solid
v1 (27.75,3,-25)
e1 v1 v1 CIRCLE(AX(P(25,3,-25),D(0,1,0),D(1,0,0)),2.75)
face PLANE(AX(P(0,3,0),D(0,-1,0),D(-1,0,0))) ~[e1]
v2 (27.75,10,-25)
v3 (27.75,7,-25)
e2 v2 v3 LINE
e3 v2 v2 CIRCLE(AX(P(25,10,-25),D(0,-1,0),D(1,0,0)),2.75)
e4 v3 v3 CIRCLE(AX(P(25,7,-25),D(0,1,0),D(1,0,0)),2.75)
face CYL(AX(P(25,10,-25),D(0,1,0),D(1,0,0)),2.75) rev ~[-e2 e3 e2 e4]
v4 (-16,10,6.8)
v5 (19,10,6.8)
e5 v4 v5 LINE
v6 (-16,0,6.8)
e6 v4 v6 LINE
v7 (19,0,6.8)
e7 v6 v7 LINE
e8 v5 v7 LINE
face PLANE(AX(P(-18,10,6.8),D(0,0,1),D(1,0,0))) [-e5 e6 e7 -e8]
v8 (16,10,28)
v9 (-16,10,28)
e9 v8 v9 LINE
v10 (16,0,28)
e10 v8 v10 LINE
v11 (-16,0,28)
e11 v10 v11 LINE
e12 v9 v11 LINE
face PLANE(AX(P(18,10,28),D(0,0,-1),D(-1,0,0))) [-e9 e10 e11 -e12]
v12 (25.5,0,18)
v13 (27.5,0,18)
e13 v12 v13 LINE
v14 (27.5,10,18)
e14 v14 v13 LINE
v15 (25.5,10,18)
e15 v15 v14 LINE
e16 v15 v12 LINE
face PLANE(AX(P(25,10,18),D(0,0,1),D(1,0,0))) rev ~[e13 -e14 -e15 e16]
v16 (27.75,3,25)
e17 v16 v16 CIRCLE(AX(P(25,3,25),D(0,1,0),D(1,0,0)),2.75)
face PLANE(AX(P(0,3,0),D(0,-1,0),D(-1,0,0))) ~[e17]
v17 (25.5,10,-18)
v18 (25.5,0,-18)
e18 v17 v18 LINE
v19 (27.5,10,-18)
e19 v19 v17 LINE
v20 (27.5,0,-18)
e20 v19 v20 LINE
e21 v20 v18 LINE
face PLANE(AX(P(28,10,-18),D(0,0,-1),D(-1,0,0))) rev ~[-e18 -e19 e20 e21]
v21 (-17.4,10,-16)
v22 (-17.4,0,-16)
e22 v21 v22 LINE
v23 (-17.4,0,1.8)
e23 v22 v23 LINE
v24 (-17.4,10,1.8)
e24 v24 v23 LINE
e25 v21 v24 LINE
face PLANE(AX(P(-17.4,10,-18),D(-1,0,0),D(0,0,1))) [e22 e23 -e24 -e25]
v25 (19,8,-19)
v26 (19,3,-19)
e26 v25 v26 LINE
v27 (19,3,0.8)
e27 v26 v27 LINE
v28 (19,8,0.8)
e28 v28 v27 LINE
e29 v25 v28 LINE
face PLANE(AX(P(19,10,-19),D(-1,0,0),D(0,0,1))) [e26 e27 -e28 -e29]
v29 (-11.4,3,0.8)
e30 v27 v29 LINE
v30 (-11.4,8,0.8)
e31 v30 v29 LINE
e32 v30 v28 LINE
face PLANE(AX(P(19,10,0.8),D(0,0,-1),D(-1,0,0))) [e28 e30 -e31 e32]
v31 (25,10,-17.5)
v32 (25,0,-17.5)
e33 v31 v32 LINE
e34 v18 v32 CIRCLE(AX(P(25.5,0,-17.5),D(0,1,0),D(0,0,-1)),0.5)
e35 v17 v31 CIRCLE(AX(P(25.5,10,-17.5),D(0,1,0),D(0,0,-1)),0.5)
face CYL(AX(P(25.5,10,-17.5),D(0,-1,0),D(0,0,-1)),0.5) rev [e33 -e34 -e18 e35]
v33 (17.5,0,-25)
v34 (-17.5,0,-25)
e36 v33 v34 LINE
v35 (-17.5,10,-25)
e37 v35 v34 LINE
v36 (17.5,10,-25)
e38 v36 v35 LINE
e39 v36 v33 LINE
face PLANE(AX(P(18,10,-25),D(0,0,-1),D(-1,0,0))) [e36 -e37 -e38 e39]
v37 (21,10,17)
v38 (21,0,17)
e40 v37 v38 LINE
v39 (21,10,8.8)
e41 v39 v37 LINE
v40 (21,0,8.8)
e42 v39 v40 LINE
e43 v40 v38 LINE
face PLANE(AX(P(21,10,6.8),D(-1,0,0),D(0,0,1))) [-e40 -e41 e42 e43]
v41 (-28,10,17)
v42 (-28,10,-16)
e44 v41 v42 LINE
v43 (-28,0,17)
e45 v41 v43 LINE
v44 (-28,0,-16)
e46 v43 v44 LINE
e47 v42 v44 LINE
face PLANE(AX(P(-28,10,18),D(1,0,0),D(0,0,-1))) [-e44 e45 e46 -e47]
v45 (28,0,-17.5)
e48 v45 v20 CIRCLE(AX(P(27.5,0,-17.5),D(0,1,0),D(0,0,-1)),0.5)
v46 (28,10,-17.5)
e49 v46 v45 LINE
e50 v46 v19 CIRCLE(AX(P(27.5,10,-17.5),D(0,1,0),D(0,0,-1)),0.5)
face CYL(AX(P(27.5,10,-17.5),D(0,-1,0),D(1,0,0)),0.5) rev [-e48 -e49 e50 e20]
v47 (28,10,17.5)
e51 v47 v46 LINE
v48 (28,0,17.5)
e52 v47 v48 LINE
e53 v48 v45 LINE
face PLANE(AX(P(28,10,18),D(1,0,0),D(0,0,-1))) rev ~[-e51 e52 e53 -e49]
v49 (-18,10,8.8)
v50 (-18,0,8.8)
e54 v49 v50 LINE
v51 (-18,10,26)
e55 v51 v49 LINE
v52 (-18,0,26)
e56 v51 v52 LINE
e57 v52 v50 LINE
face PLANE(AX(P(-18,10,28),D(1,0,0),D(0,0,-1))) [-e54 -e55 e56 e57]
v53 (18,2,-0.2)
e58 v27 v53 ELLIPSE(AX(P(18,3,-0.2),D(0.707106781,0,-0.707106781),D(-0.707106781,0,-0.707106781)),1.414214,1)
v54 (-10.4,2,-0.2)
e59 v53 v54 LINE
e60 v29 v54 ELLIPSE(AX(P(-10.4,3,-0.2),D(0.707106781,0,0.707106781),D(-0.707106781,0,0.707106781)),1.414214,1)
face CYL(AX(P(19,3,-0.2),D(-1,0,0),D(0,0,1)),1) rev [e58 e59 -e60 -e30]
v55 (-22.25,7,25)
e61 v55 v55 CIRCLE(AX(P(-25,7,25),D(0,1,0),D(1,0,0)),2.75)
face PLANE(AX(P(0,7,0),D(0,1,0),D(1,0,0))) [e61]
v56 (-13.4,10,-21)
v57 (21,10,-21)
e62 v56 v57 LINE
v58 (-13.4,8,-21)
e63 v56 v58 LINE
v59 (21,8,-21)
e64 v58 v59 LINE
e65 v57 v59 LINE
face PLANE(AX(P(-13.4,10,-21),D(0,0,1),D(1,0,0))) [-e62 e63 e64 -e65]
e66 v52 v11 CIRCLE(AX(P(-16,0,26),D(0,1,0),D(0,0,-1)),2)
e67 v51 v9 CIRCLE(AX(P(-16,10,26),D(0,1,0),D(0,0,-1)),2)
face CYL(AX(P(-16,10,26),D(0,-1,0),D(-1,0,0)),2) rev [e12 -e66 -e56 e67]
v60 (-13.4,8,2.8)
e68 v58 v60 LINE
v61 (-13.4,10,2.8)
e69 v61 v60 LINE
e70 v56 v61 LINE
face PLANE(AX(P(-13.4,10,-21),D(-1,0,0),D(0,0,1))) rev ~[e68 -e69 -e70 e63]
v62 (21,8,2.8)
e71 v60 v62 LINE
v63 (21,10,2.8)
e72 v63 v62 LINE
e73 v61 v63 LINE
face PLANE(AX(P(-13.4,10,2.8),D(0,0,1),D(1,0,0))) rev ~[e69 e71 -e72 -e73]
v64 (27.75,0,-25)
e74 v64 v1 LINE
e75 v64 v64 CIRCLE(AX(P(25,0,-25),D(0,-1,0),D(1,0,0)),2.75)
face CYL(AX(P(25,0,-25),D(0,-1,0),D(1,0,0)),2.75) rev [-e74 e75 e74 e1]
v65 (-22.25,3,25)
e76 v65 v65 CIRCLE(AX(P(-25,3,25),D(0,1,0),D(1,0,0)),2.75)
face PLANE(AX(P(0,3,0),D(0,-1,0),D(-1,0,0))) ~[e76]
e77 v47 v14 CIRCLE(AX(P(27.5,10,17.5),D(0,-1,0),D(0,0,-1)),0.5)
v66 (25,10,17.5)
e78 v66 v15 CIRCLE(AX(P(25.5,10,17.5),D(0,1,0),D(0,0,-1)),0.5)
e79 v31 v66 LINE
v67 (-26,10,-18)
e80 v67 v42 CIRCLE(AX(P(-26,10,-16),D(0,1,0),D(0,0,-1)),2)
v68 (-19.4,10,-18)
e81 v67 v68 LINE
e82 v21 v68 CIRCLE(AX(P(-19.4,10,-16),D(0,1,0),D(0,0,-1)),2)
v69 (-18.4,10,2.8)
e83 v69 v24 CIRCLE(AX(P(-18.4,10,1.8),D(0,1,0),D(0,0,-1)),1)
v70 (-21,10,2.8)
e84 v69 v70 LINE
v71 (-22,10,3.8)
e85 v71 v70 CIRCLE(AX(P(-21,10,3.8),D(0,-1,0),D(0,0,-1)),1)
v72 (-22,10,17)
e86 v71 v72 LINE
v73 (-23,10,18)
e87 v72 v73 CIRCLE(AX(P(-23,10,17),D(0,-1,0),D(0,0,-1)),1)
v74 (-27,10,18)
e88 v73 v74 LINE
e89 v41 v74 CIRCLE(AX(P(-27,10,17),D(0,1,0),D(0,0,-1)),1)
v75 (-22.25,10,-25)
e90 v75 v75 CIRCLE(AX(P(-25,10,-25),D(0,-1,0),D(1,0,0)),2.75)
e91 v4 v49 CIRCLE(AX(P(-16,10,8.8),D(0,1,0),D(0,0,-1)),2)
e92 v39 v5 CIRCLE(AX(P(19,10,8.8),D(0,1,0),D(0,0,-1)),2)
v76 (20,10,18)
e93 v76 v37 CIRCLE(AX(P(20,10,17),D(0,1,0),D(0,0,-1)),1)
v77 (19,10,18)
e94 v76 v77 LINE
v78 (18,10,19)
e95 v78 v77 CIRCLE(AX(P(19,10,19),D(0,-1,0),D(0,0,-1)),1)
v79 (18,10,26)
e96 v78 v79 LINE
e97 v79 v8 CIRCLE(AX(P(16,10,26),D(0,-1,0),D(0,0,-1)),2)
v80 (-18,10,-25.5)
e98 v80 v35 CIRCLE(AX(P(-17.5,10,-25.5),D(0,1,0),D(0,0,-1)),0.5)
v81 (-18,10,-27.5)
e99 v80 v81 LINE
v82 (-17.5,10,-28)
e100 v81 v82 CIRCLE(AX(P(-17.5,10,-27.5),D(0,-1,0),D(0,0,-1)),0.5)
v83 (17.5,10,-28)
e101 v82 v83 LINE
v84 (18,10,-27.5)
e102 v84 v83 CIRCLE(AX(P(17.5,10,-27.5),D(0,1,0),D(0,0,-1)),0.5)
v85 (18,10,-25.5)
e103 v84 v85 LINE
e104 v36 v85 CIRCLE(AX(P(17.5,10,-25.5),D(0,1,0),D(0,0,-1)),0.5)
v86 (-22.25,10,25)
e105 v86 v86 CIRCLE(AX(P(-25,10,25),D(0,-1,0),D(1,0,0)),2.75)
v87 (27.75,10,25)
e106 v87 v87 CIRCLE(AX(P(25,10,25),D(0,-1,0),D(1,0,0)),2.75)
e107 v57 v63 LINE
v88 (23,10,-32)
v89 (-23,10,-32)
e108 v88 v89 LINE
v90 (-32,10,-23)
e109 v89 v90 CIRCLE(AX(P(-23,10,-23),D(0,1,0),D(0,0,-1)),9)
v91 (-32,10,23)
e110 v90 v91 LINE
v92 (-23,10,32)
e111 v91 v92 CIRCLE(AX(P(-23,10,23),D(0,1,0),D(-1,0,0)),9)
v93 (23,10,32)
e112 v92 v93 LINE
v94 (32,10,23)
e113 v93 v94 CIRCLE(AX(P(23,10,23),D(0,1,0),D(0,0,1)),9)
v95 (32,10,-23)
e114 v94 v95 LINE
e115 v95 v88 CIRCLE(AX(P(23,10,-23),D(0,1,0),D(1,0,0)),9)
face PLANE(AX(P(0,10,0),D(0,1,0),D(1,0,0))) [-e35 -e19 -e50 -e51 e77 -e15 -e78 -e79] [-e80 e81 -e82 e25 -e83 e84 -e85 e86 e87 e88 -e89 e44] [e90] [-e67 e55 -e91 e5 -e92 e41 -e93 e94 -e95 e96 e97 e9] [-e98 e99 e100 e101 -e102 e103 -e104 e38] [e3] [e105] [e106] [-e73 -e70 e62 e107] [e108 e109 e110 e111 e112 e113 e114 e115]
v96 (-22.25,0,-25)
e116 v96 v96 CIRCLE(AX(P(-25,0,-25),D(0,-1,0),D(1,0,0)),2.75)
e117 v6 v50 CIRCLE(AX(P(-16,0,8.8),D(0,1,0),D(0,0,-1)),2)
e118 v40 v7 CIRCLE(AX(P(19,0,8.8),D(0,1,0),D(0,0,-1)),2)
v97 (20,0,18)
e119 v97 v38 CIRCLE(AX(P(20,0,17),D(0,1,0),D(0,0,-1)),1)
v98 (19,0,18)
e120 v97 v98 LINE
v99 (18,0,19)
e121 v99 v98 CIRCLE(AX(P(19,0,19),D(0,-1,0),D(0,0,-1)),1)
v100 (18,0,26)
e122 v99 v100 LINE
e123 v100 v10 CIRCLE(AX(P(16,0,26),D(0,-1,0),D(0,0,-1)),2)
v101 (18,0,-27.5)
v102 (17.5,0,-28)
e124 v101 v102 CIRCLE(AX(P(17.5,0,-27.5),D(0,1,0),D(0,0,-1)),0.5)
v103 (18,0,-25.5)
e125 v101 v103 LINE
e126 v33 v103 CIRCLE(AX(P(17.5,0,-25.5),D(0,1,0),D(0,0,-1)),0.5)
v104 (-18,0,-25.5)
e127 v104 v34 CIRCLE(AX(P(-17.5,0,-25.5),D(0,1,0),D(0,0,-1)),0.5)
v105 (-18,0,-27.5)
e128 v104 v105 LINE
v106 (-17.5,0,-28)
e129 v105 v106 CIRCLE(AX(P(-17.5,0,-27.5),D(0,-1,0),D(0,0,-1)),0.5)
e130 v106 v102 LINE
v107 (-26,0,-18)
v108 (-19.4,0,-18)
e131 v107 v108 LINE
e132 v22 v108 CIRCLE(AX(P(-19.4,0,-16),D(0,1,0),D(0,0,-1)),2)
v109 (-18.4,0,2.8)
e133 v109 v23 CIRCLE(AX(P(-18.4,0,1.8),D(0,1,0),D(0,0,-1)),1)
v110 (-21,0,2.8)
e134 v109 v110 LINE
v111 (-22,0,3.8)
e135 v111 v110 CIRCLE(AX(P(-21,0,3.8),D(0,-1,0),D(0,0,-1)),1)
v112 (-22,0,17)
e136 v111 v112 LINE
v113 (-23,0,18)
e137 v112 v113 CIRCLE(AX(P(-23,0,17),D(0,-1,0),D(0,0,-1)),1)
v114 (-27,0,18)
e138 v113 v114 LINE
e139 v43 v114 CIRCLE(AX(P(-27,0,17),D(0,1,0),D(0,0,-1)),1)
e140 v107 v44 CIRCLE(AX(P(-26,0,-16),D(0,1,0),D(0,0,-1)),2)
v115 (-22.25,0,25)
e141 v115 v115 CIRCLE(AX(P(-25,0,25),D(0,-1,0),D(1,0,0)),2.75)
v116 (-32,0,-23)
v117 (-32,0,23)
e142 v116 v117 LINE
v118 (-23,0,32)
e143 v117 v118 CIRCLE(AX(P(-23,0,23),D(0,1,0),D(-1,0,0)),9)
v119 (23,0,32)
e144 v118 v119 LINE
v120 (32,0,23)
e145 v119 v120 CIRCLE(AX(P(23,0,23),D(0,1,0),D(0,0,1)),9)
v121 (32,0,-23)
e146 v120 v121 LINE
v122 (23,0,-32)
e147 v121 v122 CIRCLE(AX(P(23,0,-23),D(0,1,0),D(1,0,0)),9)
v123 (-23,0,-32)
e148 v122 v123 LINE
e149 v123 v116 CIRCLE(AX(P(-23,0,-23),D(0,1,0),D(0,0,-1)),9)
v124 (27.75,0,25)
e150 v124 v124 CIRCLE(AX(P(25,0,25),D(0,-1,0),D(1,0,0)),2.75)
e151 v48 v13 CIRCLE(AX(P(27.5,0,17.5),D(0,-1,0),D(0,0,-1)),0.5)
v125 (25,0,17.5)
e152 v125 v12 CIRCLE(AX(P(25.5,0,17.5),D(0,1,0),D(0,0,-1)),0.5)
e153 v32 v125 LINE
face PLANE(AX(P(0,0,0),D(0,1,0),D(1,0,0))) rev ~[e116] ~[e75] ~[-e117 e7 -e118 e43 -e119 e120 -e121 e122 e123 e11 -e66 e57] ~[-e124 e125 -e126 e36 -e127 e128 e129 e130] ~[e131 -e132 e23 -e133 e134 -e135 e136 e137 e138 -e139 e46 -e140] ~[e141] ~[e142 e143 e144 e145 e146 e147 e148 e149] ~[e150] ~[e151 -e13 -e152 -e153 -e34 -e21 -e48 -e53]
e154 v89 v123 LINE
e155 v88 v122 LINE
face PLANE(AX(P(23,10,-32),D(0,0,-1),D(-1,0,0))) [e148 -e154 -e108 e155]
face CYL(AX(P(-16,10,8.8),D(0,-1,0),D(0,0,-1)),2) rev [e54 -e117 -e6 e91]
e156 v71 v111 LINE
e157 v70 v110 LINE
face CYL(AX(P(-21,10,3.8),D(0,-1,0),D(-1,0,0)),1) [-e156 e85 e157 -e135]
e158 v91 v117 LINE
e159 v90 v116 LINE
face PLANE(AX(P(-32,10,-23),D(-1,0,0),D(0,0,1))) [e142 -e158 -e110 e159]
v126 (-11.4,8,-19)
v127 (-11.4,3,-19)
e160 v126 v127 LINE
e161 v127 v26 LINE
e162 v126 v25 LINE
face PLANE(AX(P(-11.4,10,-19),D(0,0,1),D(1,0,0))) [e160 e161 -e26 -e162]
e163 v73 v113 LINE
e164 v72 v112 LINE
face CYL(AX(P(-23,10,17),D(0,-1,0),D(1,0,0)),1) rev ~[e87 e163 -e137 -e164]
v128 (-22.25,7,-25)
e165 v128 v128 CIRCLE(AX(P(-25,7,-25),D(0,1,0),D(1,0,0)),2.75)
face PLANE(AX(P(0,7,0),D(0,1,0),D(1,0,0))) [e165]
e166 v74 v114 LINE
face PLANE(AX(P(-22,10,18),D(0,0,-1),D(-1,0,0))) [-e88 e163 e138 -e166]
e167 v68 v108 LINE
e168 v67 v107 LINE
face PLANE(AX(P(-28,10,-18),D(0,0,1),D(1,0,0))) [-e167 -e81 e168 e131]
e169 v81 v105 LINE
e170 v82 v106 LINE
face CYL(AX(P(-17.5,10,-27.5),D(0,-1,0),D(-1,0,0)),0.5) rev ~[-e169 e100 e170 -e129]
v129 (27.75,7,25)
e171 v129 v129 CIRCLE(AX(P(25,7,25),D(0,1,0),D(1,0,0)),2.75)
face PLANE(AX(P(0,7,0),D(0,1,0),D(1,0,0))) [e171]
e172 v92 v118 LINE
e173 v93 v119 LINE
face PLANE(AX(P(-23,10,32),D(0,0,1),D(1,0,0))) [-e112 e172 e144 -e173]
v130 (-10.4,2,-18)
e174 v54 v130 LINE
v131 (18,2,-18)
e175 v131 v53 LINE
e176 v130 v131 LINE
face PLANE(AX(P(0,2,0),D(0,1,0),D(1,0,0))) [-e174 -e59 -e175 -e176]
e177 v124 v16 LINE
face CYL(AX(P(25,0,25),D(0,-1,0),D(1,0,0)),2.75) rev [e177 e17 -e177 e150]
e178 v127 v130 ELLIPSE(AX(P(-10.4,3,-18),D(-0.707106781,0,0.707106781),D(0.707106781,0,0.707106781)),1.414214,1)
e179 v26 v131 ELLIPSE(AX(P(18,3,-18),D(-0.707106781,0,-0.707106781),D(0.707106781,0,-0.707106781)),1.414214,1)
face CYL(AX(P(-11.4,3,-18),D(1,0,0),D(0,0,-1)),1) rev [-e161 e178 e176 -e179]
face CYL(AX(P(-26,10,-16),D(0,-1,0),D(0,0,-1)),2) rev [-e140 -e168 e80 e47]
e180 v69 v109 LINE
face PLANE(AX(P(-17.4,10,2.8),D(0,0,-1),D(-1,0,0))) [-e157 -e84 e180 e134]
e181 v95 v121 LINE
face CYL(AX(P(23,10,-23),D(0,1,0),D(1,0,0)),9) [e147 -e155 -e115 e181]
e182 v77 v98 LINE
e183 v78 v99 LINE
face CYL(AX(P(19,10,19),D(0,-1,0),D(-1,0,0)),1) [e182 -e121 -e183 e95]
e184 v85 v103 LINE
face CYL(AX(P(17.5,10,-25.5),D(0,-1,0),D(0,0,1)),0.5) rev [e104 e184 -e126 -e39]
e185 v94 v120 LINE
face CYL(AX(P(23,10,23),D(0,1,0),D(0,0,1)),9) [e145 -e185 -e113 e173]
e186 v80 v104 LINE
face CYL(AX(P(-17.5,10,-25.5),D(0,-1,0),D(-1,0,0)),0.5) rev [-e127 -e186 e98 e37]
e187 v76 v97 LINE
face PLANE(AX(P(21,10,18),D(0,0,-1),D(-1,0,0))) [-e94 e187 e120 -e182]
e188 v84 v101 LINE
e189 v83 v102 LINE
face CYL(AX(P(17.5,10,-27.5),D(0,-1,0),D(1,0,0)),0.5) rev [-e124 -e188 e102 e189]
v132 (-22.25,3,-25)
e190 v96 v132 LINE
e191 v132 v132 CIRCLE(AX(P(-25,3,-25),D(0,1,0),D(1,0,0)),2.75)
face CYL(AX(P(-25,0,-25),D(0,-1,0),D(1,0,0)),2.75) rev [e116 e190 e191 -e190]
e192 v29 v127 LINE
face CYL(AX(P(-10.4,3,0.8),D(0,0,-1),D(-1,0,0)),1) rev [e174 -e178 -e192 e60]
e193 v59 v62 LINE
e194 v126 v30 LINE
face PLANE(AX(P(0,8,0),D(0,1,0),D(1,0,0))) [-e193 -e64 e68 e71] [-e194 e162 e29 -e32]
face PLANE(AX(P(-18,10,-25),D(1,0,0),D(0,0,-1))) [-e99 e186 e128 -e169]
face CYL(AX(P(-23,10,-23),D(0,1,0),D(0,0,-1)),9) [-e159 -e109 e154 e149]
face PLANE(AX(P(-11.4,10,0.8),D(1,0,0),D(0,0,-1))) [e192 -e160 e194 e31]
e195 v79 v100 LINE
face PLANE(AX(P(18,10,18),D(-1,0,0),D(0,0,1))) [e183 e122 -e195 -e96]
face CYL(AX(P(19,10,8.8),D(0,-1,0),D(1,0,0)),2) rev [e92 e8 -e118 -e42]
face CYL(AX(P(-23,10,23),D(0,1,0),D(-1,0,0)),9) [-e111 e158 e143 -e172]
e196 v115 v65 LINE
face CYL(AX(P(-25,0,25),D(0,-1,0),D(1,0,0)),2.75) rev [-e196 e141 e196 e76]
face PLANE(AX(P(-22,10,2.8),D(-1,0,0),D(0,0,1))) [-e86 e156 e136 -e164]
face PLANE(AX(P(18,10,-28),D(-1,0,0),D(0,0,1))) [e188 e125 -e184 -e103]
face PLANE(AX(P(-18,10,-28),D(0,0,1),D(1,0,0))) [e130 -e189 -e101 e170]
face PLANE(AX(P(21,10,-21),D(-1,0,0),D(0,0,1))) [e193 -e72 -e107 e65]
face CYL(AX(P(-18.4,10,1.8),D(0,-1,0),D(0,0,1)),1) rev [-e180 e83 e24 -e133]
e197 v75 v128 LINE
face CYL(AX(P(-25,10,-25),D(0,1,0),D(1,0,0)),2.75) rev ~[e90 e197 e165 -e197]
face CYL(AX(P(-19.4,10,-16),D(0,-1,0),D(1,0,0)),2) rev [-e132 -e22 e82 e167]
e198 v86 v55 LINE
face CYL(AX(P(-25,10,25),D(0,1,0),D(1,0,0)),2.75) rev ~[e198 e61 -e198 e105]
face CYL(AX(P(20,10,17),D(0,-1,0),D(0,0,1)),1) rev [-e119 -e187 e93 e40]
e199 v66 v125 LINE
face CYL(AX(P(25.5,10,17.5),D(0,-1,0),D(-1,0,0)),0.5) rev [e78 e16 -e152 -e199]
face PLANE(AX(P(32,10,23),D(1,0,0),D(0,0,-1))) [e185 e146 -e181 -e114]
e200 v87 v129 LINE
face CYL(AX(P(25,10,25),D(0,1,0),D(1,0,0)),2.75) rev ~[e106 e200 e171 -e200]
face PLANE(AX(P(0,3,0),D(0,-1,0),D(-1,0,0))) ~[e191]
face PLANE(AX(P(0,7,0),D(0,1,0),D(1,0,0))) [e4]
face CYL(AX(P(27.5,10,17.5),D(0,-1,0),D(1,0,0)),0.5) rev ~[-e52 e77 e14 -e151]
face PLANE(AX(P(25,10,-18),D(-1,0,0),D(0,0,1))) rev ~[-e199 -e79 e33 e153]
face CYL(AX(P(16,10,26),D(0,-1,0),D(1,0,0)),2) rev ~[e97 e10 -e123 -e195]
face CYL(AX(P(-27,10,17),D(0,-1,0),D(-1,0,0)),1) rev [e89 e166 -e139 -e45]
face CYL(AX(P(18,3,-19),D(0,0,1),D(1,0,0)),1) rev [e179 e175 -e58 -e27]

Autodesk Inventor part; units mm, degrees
ref_plane "YZ Plane" through (0, 0, 0) normal (1, 0, 0) x (0, 1, 0)
ref_plane "XZ Plane" through (0, 0, 0) normal (0, 1, 0) x (-1, 0, 0)
sketch "Sketch1" plane through (0, 0, 0) normal (0, 1, 0) x (-1, 0, 0)
  line L0 (30, 30) -> (-30, 30)
  line L1 (-30, 30) -> (-30, -30)
  line L2 (-30, -30) -> (30, -30)
  line L3 (30, -30) -> (30, 30)
  line L4 (30, 30) -> (-30, -30) construction
  line L5 (-30, 30) -> (30, -30) construction
  point P0 (0, 0)
  dimension "d0" = 60
  dimension "d1" = 60
extrude "Extrusion1" add sketch "Sketch1" along normal blind 10
fillet "Fillet1" radius 7 4 edges at (30, 5, 30) (30, 5, -30) (-30, 5, 30) (-30, 5, -30)
sketch "Sketch2" plane through (0, 10, 0) normal (0, 1, 0) x (1, 0, 0)
  line L0 (-30, 30) -> (30, 30)
  line L1 (30, 30) -> (30, -30)
  line L2 (30, -30) -> (-30, -30)
  line L3 (-30, -30) -> (-30, 30)
  line L4 (-30, 30) -> (30, -30) construction
  line L5 (30, 30) -> (-30, -30) construction
  line L6 (25, -25) -> (25, 25)
  line L7 (25, 25) -> (-25, 25)
  line L8 (-25, 25) -> (-25, -25)
  line L9 (-25, -25) -> (25, -25)
  circle A0 centre (25, -25) radius 2.75
  circle A1 centre (-25, -25) radius 2.75
  circle A2 centre (25, 25) radius 2.75
  circle A3 centre (-25, 25) radius 2.75
  point P0 (0, 0)
  dimension "d5" = 5
  dimension "d6" = 5.5
  dimension "d7" = 5.5
  dimension "d8" = 5.5
  dimension "d9" = 5.5
extrude "Extrusion2" cut sketch "Sketch2" against normal blind 3 contours L9 A0 L6 | L6 A0 L9 | A2 L7 L6 | L6 L7 A2 | A1 L8 L9 | L9 L8 A1 | A3 L8 L7 | L7 L8 A3
sketch "Sketch7" plane through (0, 10, 0) normal (0, 1, 0) x (1, 0, 0)
  line L0 (-23, 30) -> (23, 30)
  line L1 (30, 23) -> (30, -23)
  line L2 (23, -30) -> (-23, -30)
  line L3 (-30, -23) -> (-30, 23)
  line L4 (-30, 30) -> (30, -30) construction
  line L5 (30, 30) -> (-30, -30) construction
  arc A0 (-23, 30) -> (-30, 23) centre (-23, 23) ccw
  arc A1 (-30, -23) -> (-23, -30) centre (-23, -23) ccw
  arc A2 (23, -30) -> (30, -23) centre (23, -23) ccw
  arc A3 (30, 23) -> (23, 30) centre (23, 23) ccw
  line L6 (23, 32) -> (-23, 32)
  arc A4 (-23, 32) -> (-32, 23) centre (-23, 23) ccw
  line L7 (-32, 23) -> (-32, -23)
  arc A5 (-32, -23) -> (-23, -32) centre (-23, -23) ccw
  line L8 (-23, -32) -> (23, -32)
  arc A6 (23, -32) -> (32, -23) centre (23, -23) ccw
  line L9 (32, -23) -> (32, 23)
  arc A7 (32, 23) -> (23, 32) centre (23, 23) ccw
  point P0 (0, 0)
  dimension "d47" = 7
  dimension "d48" = 2
extrude "Extrusion6" add sketch "Sketch7" against normal blind 10
sketch "Sketch30" plane through (0, 10, 0) normal (0, 1, 0) x (1, 0, 0)
  line L0 (-25, -25) -> (25, -25)
  line L1 (25, -25) -> (25, 25)
  line L2 (25, 25) -> (-25, 25)
  line L3 (-25, 25) -> (-25, -25)
  line L4 (-25, -25) -> (25, 25) construction
  line L5 (25, -25) -> (-25, 25) construction
  line L6 (21, 21) -> (21, -21)
  line L7 (21, -21) -> (-21, -21)
  line L8 (-21, -21) -> (-21, 21)
  line L9 (-21, 21) -> (21, 21)
  line L10 (-13.4, 21) -> (-13.4, -2.8)
  line L11 (-13.4, -2.8) -> (21, -2.8)
  line L12 (19, -19) -> (-19, -19)
  line L13 (-19, -19) -> (-19, 19)
  line L14 (-11.4, 19) -> (-11.4, -0.8)
  line L15 (-11.4, -0.8) -> (19, -0.8)
  line L16 (-11.4, 19) -> (19, 19)
  line L17 (19, 19) -> (19, -0.8)
  point P0 (0, 0)
  dimension "d307" = 50
  dimension "d308" = 50
  dimension "d309" = 4
  dimension "d310" = 34.4
  dimension "d311" = 23.8
  dimension "d313" = 2
extrude "Extrusion28" cut sketch "Sketch30" against normal blind 2 contours L6 L11 L10 L9
sketch "Sketch31" plane through (0, 10, 0) normal (0, 1, 0) x (1, 0, 0)
  line L0 (-11.4, 19) -> (19, 19)
  line L1 (19, 19) -> (19, -0.8)
  line L2 (19, -0.8) -> (-11.4, -0.8)
  line L3 (-11.4, -0.8) -> (-11.4, 19)
  point P0 (0, 0)
extrude "Extrusion29" cut sketch "Sketch31" against normal blind 8
sketch "Sketch32" plane through (0, 10, 0) normal (0, 1, 0) x (1, 0, 0)
  line L0 (32, -23) -> (32, 23) projected
  line L1 (23, 32) -> (-23, 32) projected
  line L2 (-13.4, 21) -> (21, 21) projected
  line L3 (-32, 23) -> (-32, -23) projected
  line L4 (-18, 28) -> (18, 28)
  line L5 (18, 28) -> (18, 25)
  line L6 (18, 25) -> (-18, 25)
  line L7 (-18, 25) -> (-18, 28)
  line L8 (-23, -32) -> (23, -32) projected
  line L9 (21, 21) -> (21, -2.8) projected
  line L10 (28, 18) -> (25, 18)
  line L11 (25, 18) -> (25, -18)
  line L12 (25, -18) -> (28, -18)
  line L13 (28, -18) -> (28, 18)
  line L14 (21, -2.8) -> (-13.4, -2.8) projected
  line L15 (18, -28) -> (-18, -28)
  line L16 (-18, -28) -> (-18, -6.8)
  line L17 (-18, -6.8) -> (21, -6.8)
  line L18 (21, -6.8) -> (21, -18)
  line L19 (21, -18) -> (18, -18)
  line L20 (18, -18) -> (18, -28)
  line L21 (-13.4, -2.8) -> (-13.4, 21) projected
  line L22 (-22, -18) -> (-28, -18)
  line L23 (-28, -18) -> (-28, 18)
  line L24 (-28, 18) -> (-17.4, 18)
  line L25 (-17.4, 18) -> (-17.4, -2.8)
  line L26 (-17.4, -2.8) -> (-22, -2.8)
  line L27 (-22, -2.8) -> (-22, -18)
  point P0 (0, 0)
  dimension "d318" = 14
  dimension "d319" = 4
  dimension "d320" = 4
  dimension "d321" = 4
  dimension "d322" = 14
  dimension "d323" = 4
  dimension "d324" = 14
  dimension "d325" = 4
  dimension "d326" = 14
  dimension "d327" = 4
  dimension "d328" = 14
  dimension "d329" = 4
  dimension "d330" = 4
  dimension "d331" = 4
  dimension "d332" = 14
  dimension "d333" = 4
  dimension "d334" = 14
  dimension "d335" = 4
  dimension "d336" = 14
  dimension "d337" = 4
  dimension "d338" = 4
  dimension "d339" = 4
  dimension "d341" = 4
  dimension "d342" = 14
  dimension "d343" = 14
extrude "Extrusion30" cut sketch "Sketch32" against normal through all contours L4 L5 L6 L7 | L13 L12 L11 L10 | L15 L16 L17 L18 L19 L20 | L22 L23 L24 L25 L26 L27
fillet "Fillet9" radius 0.5 8 edges at (-18, 5, -28) (25, 5, -18) (25, 5, 18) (-18, 5, -25) (18, 5, -25) (28, 5, 18) (18, 5, -28) (28, 5, -18)
fillet "Fillet9" radius 1 10 edges at (3.8, 2, -19) (3.8, 2, 0.8) (19, 2, -9.1) (-11.4, 2, -9.1) (18, 5, 18) (21, 5, 18) (-22, 5, 2.8) (-17.4, 5, 2.8) (-22, 5, 18) (-28, 5, 18)
fillet "Fillet9" radius 2 6 edges at (-28, 5, -18) (-17.4, 5, -18) (21, 5, 6.8) (-18, 5, 28) (-18, 5, 6.8) (18, 5, 28)
ref_plane "Work Plane8" through (0, 5, 0) normal (0, 1, 0) x (1, 0, 0)
mirror "Mirror8" about plane through (0, 5, 0) normal (0, 1, 0) of "Extrusion2"
properties part number "8 pin long"
